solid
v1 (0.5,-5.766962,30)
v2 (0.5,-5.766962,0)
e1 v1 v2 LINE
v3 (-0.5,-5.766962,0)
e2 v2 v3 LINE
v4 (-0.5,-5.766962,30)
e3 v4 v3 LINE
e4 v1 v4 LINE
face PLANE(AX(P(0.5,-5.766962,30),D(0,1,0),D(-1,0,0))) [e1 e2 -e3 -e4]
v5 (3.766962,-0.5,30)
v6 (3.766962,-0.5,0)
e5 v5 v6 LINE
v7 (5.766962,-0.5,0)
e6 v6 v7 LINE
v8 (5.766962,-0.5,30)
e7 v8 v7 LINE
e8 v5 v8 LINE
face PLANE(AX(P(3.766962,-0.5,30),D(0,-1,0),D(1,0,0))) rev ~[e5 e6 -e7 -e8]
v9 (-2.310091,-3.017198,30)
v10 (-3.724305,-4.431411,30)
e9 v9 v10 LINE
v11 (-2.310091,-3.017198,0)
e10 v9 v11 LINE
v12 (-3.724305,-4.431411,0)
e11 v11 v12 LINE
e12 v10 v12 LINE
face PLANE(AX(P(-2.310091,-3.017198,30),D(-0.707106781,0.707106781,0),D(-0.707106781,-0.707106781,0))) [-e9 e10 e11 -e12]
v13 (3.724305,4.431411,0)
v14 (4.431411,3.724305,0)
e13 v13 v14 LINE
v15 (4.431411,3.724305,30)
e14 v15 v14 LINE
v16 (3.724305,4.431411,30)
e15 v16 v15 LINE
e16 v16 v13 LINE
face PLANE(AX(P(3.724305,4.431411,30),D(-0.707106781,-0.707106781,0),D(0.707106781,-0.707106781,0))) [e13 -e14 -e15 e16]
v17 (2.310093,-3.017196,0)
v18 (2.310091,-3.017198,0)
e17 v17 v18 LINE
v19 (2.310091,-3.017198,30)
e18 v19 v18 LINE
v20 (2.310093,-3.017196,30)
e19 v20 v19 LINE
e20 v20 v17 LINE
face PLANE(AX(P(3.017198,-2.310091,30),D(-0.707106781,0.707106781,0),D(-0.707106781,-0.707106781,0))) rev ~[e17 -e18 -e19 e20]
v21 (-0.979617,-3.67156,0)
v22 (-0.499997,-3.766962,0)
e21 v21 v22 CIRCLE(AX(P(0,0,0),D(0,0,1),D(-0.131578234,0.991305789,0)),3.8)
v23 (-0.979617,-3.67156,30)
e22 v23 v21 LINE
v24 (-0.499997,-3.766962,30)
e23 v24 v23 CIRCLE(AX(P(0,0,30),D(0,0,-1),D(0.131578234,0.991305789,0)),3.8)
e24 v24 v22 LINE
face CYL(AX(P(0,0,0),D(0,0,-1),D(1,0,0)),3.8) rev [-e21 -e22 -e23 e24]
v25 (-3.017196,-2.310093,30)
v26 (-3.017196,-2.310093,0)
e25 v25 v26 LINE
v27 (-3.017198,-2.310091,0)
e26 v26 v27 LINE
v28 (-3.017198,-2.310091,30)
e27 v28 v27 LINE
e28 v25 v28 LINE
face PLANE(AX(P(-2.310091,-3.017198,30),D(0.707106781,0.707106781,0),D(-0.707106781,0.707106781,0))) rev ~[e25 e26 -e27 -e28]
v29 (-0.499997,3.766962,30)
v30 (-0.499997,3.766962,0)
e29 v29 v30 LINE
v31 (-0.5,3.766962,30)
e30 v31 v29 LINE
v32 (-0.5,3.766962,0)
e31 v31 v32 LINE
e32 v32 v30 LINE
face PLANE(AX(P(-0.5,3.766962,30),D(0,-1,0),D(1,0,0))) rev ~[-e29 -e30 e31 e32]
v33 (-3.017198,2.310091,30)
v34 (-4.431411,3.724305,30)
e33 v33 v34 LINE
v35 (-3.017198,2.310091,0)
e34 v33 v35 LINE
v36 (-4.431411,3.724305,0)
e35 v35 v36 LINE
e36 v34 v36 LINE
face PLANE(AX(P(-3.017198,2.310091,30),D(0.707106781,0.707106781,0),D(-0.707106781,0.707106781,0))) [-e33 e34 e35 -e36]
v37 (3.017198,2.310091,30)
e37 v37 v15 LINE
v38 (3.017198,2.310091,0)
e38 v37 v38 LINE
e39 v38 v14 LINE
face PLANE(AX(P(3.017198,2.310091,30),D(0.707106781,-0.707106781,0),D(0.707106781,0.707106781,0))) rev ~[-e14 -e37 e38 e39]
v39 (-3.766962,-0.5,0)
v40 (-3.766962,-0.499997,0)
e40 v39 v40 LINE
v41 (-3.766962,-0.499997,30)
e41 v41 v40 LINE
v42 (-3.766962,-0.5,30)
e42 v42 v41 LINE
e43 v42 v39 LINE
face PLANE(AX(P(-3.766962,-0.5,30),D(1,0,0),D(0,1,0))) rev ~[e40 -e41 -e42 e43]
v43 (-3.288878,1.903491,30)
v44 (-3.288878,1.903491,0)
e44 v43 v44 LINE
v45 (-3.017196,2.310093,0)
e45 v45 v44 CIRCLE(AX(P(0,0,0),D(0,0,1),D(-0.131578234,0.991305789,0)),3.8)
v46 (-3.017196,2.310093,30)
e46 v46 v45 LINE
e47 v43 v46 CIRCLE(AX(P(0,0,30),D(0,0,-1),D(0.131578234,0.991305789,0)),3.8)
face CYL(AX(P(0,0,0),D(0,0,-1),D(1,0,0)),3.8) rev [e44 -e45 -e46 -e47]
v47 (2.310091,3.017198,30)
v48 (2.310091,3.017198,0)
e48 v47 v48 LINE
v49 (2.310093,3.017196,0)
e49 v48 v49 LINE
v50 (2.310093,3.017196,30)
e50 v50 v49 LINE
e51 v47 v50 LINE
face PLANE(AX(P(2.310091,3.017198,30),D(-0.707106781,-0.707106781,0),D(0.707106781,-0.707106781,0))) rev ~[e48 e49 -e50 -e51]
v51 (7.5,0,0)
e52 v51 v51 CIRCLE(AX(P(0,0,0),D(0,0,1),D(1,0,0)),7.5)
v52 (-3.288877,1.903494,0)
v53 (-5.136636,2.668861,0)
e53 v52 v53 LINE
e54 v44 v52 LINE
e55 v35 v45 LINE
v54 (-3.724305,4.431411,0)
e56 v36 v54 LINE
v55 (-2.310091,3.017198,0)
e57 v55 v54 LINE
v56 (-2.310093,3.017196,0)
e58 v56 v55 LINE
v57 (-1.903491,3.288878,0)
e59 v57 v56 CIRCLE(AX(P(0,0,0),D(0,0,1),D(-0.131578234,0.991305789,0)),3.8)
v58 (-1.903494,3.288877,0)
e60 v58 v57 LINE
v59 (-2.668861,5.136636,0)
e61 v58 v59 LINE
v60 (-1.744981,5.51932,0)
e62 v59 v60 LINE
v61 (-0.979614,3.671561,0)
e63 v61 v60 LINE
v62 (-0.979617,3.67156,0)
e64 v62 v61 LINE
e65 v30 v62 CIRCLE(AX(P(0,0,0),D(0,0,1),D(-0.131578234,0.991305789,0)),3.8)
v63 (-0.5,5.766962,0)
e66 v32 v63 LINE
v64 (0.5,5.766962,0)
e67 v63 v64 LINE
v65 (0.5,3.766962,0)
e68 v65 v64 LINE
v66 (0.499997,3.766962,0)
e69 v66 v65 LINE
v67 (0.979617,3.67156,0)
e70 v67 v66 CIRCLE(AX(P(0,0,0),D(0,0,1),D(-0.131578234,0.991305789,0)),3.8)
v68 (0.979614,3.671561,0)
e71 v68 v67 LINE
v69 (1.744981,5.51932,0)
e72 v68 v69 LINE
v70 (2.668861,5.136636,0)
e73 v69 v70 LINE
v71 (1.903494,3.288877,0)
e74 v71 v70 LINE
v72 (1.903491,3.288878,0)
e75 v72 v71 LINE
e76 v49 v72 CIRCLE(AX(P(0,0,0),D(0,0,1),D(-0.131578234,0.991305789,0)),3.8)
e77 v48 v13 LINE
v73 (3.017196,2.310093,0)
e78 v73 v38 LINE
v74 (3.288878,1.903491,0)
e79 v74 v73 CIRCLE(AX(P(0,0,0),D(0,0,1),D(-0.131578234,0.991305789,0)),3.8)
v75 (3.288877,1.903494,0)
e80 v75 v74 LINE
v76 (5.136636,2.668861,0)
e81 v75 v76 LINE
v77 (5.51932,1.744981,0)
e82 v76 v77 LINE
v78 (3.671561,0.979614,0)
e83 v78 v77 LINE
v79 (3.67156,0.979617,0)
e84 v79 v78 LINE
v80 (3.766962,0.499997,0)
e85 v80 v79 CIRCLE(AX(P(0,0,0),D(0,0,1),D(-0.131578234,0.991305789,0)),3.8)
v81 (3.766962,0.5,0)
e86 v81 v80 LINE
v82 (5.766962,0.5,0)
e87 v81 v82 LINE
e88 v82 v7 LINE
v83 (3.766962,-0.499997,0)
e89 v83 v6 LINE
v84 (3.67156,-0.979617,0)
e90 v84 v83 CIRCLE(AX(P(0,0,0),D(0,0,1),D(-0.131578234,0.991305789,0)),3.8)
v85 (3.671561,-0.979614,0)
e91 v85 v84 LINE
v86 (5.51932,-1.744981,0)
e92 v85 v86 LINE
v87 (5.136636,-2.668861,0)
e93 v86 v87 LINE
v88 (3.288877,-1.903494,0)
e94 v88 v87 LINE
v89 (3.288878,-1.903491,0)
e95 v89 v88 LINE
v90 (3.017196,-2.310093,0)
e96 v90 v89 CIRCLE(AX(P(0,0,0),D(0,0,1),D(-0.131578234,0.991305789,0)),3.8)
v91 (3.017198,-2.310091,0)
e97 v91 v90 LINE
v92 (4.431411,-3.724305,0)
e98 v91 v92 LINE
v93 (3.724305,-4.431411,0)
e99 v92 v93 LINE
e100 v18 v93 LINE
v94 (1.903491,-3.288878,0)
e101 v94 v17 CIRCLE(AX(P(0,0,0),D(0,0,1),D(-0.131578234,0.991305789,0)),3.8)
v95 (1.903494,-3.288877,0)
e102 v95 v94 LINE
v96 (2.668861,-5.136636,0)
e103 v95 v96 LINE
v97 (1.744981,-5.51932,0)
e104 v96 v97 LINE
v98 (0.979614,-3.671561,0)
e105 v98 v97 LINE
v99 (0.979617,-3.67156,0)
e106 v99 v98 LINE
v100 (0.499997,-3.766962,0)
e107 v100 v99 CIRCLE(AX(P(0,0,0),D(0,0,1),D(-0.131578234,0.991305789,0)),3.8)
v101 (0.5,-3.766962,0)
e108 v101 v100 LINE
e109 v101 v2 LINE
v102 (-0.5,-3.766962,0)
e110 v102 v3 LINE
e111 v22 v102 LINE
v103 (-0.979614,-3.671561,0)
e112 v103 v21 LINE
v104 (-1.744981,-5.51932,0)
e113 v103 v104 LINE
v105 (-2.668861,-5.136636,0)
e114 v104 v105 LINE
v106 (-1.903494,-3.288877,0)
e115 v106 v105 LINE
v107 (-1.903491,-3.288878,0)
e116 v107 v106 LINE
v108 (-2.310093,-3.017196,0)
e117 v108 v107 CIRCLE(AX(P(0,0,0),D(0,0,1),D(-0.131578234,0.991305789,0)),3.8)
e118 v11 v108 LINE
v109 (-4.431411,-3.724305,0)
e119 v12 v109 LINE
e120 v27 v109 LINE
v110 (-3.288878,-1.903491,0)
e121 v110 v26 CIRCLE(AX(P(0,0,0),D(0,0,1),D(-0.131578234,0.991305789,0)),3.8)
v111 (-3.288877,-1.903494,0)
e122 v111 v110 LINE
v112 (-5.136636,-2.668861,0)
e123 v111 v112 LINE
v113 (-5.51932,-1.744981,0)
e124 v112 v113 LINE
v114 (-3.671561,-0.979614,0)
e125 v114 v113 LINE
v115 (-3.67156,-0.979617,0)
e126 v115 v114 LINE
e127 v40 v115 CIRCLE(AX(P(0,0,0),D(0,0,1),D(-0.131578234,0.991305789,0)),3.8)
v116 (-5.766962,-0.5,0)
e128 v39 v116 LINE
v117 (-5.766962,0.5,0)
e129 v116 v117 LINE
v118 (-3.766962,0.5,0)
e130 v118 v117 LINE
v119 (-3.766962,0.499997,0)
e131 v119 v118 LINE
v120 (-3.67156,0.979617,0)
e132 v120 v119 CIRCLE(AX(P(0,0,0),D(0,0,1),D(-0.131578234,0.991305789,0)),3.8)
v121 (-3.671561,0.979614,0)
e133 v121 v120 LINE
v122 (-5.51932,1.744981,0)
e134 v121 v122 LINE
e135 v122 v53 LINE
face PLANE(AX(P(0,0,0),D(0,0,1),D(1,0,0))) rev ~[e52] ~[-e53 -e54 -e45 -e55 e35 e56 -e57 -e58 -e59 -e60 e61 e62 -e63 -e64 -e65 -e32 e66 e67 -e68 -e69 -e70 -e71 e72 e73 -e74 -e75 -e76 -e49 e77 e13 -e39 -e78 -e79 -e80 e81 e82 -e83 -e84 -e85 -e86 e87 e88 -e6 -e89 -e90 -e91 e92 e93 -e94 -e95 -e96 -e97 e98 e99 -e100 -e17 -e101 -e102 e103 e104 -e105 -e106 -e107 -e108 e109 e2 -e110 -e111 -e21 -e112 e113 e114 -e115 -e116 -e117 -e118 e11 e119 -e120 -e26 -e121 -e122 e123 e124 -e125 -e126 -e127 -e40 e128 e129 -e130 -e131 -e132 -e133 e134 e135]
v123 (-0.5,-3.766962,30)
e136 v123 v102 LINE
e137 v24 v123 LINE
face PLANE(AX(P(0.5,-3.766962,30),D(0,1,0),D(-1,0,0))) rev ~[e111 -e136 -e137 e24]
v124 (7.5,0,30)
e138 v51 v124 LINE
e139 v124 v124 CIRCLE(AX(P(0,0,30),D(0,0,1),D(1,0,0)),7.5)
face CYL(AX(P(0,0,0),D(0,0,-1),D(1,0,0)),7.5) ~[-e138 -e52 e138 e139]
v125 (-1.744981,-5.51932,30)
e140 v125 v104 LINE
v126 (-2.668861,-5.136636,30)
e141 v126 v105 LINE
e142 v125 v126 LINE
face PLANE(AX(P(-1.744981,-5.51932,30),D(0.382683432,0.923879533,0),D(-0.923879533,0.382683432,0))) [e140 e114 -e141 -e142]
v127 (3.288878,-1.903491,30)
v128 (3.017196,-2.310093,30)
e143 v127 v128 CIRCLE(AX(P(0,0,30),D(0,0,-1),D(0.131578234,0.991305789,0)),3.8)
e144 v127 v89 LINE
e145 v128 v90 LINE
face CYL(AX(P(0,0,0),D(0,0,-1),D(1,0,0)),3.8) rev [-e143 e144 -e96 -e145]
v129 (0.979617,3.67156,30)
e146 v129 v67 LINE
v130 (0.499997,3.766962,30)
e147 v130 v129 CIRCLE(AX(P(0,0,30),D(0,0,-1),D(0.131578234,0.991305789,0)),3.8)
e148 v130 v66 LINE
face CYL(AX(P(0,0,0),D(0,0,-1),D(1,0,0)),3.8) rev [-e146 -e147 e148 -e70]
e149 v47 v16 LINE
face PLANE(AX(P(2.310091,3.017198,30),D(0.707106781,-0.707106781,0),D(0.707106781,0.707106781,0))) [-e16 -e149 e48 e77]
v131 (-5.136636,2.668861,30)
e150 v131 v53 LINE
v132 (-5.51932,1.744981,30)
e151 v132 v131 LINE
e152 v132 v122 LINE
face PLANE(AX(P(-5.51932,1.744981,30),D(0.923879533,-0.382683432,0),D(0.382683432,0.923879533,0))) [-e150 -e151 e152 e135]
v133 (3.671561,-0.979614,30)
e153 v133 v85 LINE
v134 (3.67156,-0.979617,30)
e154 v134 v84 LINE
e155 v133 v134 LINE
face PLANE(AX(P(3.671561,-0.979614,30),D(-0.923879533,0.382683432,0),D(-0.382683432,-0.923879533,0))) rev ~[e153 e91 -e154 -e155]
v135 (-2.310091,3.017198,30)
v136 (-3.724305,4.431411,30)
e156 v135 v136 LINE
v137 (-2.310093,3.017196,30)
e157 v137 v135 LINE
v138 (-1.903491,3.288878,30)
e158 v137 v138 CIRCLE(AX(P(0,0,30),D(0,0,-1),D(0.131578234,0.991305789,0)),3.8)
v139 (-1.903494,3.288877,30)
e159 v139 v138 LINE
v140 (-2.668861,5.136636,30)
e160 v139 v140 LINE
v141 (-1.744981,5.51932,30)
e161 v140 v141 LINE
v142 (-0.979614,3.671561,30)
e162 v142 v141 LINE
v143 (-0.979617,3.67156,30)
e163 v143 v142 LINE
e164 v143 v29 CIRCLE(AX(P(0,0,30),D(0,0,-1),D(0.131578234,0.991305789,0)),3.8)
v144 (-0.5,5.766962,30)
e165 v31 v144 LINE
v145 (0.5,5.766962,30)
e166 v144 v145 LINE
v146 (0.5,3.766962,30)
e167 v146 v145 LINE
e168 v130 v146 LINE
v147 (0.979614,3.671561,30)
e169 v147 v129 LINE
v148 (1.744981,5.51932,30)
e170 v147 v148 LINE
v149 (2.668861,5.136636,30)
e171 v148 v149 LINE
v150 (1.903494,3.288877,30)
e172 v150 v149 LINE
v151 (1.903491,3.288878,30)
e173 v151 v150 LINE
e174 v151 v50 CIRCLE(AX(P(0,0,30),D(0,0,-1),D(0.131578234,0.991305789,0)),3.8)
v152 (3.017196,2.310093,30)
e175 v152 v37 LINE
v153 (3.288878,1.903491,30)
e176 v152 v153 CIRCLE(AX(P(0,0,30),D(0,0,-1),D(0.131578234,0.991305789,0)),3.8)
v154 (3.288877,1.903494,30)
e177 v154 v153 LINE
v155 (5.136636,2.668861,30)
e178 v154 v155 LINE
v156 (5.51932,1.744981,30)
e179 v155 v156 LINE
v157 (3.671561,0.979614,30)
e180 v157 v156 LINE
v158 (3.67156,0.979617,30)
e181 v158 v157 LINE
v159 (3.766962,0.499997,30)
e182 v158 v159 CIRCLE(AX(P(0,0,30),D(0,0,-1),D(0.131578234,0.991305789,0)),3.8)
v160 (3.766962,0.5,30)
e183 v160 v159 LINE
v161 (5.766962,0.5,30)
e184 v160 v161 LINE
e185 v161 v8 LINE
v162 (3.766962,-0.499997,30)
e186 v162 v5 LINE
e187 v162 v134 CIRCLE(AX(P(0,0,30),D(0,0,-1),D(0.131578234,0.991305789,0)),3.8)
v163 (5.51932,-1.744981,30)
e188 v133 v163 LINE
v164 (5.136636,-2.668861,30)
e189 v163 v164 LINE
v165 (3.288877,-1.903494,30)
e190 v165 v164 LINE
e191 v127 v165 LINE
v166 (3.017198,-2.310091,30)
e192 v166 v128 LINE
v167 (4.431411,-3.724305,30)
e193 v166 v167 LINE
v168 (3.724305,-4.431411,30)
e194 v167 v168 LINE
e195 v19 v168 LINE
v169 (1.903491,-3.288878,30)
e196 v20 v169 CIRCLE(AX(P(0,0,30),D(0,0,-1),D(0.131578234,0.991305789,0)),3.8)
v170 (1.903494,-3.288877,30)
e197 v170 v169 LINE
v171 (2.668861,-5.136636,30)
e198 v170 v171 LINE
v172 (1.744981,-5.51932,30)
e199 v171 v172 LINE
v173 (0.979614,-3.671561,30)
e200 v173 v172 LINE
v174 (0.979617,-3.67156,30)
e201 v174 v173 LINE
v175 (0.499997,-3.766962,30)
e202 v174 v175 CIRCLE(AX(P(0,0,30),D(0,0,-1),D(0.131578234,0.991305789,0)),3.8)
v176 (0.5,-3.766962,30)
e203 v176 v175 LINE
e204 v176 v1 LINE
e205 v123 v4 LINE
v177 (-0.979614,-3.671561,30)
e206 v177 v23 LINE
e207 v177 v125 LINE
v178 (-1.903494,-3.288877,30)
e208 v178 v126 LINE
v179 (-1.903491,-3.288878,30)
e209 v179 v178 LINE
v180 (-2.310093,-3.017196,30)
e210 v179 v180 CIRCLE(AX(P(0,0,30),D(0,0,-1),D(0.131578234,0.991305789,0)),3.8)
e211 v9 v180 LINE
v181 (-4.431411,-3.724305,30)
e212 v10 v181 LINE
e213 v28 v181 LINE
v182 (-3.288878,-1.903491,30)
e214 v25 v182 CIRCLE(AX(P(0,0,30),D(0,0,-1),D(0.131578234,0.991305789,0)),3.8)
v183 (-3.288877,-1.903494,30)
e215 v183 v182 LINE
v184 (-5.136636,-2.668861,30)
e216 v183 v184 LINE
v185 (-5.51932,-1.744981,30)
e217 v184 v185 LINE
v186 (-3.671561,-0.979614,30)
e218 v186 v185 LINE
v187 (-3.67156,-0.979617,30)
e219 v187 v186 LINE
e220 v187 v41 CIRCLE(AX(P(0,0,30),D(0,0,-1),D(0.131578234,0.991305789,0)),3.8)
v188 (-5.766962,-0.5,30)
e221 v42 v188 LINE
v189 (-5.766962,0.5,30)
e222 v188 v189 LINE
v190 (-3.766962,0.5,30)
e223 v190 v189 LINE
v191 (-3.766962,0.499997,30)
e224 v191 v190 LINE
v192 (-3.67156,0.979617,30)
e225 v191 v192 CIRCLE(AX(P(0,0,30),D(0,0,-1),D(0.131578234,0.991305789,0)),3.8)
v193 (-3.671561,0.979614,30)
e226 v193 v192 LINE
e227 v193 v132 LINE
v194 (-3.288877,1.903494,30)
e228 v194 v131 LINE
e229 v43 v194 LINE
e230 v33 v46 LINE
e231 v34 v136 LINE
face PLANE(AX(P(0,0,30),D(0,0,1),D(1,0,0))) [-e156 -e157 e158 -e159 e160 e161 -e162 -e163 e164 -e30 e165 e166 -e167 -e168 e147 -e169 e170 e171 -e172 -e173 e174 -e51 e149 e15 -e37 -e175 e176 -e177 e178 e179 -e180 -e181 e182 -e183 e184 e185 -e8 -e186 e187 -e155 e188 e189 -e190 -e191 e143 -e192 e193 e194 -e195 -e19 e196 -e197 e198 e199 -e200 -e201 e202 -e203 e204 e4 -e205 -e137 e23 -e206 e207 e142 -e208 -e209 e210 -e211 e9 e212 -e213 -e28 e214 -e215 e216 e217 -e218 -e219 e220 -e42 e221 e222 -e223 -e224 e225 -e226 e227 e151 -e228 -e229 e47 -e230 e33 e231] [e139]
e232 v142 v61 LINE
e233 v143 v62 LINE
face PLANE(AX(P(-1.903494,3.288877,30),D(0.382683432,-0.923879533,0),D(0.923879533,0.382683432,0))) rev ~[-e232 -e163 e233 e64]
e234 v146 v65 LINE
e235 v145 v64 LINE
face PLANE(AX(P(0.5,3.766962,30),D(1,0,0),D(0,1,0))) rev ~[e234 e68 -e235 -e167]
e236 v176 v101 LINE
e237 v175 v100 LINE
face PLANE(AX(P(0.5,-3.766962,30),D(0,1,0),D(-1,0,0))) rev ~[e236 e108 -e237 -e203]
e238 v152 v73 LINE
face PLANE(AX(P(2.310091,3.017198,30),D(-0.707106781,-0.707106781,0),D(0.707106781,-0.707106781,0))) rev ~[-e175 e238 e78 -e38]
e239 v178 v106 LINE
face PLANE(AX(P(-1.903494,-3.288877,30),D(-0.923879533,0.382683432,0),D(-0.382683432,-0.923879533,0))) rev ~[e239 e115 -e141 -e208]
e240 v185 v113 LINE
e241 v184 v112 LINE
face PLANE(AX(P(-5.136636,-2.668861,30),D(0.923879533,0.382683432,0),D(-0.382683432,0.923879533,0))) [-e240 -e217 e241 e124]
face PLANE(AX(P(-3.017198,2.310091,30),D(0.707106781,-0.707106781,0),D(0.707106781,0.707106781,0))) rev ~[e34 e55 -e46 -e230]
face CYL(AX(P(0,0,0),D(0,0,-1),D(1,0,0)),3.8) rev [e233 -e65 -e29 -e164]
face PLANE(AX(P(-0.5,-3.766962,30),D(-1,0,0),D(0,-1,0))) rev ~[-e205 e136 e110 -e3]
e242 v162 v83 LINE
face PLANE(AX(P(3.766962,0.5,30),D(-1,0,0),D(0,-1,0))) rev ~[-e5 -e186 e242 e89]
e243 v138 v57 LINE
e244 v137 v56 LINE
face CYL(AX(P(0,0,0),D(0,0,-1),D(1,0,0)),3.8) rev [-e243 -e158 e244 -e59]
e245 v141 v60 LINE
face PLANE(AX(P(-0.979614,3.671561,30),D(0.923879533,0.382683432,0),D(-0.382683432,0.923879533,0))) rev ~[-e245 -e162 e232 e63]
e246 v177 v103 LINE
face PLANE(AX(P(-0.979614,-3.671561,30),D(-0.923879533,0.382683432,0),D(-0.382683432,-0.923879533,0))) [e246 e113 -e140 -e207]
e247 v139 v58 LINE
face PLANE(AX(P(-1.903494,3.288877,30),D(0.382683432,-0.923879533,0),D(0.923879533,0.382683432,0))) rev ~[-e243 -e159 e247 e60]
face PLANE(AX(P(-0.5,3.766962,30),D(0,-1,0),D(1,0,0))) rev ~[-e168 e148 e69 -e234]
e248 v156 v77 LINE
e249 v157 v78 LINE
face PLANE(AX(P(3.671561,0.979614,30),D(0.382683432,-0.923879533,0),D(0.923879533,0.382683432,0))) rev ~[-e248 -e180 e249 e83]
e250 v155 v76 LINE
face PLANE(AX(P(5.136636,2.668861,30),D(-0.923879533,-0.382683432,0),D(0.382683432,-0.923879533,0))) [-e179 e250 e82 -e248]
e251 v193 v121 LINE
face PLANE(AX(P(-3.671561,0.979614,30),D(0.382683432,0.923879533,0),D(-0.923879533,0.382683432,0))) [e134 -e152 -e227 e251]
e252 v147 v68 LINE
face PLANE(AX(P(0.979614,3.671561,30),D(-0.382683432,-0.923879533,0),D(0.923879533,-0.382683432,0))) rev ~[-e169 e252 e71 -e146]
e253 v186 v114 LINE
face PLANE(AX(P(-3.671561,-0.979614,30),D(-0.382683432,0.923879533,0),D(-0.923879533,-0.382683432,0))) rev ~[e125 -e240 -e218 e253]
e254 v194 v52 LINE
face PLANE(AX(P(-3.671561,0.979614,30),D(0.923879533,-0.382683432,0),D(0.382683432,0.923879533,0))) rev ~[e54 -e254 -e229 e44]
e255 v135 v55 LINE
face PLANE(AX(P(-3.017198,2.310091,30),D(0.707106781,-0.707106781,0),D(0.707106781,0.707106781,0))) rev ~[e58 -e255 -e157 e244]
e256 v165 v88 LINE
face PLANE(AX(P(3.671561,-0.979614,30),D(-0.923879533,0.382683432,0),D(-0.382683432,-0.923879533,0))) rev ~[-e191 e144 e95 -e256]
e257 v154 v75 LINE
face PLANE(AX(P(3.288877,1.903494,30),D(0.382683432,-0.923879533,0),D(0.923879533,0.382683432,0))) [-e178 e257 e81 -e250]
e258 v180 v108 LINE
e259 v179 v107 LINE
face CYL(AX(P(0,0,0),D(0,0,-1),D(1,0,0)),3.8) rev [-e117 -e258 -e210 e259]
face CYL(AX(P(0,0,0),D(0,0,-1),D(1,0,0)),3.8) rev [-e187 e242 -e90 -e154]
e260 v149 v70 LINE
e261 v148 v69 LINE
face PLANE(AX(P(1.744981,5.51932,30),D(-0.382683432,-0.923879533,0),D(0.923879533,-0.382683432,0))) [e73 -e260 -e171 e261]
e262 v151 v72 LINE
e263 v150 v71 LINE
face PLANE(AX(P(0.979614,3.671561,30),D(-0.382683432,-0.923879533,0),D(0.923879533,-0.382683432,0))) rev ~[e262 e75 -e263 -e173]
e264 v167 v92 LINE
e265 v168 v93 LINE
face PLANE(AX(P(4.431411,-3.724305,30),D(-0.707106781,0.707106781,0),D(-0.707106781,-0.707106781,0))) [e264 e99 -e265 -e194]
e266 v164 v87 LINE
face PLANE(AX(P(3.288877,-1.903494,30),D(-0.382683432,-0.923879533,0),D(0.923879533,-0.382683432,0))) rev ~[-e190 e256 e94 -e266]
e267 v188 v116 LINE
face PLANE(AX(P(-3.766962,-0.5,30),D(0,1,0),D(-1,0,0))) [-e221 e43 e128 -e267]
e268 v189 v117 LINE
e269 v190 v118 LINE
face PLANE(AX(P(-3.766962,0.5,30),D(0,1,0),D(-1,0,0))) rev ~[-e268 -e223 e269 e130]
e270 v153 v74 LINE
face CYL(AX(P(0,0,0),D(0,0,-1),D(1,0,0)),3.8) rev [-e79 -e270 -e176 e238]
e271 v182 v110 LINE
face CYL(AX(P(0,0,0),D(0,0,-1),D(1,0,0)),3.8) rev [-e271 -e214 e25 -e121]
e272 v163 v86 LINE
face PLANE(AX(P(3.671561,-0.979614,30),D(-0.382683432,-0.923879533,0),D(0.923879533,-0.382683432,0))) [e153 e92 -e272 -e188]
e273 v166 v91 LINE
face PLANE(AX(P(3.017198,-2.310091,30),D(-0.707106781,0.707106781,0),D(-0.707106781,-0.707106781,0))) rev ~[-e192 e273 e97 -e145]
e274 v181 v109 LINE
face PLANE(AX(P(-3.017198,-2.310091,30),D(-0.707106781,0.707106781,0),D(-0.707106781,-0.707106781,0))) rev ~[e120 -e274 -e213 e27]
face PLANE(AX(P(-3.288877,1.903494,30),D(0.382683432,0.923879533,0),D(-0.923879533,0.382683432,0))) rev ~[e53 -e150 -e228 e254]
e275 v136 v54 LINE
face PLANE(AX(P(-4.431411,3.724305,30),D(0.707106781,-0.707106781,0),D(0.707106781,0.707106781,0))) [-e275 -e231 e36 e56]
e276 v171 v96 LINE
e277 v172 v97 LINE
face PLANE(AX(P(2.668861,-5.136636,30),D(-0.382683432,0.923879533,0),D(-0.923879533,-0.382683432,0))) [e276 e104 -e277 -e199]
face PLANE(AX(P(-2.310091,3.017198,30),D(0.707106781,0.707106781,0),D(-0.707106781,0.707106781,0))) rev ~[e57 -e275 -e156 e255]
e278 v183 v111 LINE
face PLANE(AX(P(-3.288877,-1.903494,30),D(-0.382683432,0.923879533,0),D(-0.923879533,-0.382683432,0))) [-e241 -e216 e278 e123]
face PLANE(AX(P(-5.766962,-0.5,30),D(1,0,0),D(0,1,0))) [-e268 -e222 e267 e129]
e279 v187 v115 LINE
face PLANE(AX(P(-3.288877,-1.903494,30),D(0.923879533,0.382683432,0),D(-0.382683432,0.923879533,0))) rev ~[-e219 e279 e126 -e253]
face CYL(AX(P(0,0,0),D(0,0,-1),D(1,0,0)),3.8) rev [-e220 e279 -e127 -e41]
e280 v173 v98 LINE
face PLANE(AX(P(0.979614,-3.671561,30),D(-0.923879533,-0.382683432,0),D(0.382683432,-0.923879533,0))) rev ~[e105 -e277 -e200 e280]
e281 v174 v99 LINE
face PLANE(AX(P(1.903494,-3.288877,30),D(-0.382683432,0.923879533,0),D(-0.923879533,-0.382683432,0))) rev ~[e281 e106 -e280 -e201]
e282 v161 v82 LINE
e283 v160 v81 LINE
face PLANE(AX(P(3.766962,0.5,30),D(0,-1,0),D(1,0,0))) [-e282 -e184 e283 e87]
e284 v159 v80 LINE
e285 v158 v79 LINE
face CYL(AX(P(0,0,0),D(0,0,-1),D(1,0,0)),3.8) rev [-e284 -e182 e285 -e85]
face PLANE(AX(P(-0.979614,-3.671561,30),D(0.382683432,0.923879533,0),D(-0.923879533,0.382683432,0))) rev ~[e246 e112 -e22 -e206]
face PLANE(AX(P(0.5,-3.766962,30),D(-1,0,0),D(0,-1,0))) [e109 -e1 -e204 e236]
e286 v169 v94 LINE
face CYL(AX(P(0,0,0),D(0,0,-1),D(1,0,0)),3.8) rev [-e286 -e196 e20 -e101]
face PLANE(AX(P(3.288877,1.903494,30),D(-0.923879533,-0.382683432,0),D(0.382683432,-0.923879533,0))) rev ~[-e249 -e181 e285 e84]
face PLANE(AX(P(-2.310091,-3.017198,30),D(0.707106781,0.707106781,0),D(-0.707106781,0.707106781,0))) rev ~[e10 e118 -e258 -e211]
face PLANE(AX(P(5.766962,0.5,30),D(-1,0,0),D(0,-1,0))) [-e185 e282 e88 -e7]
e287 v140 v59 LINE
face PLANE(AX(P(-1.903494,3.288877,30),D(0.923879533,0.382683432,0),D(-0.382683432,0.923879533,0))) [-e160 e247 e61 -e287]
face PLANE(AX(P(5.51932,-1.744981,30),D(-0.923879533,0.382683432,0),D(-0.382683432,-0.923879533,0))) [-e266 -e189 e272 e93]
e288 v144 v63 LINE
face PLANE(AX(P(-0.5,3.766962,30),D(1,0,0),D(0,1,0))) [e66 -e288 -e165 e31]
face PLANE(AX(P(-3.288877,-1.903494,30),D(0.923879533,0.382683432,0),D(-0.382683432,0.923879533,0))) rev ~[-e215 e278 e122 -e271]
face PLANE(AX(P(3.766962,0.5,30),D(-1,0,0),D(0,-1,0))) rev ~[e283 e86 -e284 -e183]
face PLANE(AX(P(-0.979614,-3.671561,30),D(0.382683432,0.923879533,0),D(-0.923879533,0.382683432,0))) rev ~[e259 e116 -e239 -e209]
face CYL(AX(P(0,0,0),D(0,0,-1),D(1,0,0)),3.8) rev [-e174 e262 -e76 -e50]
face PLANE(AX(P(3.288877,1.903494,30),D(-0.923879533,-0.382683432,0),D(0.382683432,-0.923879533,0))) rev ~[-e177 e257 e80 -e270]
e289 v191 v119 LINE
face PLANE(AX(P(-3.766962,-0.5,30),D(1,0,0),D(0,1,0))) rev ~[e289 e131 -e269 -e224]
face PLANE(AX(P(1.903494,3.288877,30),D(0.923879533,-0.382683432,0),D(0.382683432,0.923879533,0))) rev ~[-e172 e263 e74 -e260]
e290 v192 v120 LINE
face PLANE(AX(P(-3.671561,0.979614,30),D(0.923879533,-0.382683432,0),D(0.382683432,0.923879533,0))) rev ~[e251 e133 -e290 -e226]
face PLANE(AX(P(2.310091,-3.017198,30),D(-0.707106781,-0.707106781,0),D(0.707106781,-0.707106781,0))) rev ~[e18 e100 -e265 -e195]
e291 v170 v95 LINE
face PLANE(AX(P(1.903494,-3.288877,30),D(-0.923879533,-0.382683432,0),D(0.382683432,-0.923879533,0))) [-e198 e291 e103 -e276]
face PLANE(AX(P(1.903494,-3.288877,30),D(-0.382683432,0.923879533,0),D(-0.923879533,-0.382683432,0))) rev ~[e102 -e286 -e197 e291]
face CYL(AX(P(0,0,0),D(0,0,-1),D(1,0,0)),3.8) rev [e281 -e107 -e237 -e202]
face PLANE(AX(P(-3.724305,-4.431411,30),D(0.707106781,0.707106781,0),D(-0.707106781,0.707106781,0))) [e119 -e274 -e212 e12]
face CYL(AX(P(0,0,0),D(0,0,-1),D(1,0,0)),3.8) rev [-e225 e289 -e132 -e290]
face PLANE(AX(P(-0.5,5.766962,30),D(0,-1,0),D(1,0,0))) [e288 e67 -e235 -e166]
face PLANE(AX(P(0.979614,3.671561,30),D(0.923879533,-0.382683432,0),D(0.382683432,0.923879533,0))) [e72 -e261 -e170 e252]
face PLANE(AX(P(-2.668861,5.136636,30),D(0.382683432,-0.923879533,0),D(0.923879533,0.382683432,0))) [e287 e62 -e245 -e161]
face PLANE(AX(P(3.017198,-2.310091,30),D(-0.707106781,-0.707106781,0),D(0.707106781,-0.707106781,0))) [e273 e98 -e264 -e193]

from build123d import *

# Parameters (mm, degrees)
SKETCH_R           = 7.5
SKETCH_R_2         = 3.8
PAD_DEPTH          = 30
SKETCH001_W        = 1
SKETCH001_H        = 2
POCKET_DEPTH       = 30
POLARPATTERN_COUNT = 16


with BuildPart() as part:
    # Sketch → Pad (new body)
    with BuildSketch(Plane.XY):
        Circle(SKETCH_R)
        Circle(SKETCH_R_2, mode=Mode.SUBTRACT)
    extrude(amount=PAD_DEPTH)

    # Sketch001 (on Face4 of Pad) → Pocket (cut)
    with BuildSketch(Plane.XY.offset(30)):
        with Locations((0, 4.766962)):
            Rectangle(SKETCH001_W, SKETCH001_H)
    pocket = extrude(amount=-POCKET_DEPTH, mode=Mode.SUBTRACT)

    # PolarPattern: Pocket ×16 about axis
    polarpattern_axis = Axis((0, 0, 30), (0, 0, 1))
    for i in range(1, POLARPATTERN_COUNT):
        add(pocket.rotate(polarpattern_axis, i * 360 / POLARPATTERN_COUNT), mode=Mode.SUBTRACT)


solid = part.part
